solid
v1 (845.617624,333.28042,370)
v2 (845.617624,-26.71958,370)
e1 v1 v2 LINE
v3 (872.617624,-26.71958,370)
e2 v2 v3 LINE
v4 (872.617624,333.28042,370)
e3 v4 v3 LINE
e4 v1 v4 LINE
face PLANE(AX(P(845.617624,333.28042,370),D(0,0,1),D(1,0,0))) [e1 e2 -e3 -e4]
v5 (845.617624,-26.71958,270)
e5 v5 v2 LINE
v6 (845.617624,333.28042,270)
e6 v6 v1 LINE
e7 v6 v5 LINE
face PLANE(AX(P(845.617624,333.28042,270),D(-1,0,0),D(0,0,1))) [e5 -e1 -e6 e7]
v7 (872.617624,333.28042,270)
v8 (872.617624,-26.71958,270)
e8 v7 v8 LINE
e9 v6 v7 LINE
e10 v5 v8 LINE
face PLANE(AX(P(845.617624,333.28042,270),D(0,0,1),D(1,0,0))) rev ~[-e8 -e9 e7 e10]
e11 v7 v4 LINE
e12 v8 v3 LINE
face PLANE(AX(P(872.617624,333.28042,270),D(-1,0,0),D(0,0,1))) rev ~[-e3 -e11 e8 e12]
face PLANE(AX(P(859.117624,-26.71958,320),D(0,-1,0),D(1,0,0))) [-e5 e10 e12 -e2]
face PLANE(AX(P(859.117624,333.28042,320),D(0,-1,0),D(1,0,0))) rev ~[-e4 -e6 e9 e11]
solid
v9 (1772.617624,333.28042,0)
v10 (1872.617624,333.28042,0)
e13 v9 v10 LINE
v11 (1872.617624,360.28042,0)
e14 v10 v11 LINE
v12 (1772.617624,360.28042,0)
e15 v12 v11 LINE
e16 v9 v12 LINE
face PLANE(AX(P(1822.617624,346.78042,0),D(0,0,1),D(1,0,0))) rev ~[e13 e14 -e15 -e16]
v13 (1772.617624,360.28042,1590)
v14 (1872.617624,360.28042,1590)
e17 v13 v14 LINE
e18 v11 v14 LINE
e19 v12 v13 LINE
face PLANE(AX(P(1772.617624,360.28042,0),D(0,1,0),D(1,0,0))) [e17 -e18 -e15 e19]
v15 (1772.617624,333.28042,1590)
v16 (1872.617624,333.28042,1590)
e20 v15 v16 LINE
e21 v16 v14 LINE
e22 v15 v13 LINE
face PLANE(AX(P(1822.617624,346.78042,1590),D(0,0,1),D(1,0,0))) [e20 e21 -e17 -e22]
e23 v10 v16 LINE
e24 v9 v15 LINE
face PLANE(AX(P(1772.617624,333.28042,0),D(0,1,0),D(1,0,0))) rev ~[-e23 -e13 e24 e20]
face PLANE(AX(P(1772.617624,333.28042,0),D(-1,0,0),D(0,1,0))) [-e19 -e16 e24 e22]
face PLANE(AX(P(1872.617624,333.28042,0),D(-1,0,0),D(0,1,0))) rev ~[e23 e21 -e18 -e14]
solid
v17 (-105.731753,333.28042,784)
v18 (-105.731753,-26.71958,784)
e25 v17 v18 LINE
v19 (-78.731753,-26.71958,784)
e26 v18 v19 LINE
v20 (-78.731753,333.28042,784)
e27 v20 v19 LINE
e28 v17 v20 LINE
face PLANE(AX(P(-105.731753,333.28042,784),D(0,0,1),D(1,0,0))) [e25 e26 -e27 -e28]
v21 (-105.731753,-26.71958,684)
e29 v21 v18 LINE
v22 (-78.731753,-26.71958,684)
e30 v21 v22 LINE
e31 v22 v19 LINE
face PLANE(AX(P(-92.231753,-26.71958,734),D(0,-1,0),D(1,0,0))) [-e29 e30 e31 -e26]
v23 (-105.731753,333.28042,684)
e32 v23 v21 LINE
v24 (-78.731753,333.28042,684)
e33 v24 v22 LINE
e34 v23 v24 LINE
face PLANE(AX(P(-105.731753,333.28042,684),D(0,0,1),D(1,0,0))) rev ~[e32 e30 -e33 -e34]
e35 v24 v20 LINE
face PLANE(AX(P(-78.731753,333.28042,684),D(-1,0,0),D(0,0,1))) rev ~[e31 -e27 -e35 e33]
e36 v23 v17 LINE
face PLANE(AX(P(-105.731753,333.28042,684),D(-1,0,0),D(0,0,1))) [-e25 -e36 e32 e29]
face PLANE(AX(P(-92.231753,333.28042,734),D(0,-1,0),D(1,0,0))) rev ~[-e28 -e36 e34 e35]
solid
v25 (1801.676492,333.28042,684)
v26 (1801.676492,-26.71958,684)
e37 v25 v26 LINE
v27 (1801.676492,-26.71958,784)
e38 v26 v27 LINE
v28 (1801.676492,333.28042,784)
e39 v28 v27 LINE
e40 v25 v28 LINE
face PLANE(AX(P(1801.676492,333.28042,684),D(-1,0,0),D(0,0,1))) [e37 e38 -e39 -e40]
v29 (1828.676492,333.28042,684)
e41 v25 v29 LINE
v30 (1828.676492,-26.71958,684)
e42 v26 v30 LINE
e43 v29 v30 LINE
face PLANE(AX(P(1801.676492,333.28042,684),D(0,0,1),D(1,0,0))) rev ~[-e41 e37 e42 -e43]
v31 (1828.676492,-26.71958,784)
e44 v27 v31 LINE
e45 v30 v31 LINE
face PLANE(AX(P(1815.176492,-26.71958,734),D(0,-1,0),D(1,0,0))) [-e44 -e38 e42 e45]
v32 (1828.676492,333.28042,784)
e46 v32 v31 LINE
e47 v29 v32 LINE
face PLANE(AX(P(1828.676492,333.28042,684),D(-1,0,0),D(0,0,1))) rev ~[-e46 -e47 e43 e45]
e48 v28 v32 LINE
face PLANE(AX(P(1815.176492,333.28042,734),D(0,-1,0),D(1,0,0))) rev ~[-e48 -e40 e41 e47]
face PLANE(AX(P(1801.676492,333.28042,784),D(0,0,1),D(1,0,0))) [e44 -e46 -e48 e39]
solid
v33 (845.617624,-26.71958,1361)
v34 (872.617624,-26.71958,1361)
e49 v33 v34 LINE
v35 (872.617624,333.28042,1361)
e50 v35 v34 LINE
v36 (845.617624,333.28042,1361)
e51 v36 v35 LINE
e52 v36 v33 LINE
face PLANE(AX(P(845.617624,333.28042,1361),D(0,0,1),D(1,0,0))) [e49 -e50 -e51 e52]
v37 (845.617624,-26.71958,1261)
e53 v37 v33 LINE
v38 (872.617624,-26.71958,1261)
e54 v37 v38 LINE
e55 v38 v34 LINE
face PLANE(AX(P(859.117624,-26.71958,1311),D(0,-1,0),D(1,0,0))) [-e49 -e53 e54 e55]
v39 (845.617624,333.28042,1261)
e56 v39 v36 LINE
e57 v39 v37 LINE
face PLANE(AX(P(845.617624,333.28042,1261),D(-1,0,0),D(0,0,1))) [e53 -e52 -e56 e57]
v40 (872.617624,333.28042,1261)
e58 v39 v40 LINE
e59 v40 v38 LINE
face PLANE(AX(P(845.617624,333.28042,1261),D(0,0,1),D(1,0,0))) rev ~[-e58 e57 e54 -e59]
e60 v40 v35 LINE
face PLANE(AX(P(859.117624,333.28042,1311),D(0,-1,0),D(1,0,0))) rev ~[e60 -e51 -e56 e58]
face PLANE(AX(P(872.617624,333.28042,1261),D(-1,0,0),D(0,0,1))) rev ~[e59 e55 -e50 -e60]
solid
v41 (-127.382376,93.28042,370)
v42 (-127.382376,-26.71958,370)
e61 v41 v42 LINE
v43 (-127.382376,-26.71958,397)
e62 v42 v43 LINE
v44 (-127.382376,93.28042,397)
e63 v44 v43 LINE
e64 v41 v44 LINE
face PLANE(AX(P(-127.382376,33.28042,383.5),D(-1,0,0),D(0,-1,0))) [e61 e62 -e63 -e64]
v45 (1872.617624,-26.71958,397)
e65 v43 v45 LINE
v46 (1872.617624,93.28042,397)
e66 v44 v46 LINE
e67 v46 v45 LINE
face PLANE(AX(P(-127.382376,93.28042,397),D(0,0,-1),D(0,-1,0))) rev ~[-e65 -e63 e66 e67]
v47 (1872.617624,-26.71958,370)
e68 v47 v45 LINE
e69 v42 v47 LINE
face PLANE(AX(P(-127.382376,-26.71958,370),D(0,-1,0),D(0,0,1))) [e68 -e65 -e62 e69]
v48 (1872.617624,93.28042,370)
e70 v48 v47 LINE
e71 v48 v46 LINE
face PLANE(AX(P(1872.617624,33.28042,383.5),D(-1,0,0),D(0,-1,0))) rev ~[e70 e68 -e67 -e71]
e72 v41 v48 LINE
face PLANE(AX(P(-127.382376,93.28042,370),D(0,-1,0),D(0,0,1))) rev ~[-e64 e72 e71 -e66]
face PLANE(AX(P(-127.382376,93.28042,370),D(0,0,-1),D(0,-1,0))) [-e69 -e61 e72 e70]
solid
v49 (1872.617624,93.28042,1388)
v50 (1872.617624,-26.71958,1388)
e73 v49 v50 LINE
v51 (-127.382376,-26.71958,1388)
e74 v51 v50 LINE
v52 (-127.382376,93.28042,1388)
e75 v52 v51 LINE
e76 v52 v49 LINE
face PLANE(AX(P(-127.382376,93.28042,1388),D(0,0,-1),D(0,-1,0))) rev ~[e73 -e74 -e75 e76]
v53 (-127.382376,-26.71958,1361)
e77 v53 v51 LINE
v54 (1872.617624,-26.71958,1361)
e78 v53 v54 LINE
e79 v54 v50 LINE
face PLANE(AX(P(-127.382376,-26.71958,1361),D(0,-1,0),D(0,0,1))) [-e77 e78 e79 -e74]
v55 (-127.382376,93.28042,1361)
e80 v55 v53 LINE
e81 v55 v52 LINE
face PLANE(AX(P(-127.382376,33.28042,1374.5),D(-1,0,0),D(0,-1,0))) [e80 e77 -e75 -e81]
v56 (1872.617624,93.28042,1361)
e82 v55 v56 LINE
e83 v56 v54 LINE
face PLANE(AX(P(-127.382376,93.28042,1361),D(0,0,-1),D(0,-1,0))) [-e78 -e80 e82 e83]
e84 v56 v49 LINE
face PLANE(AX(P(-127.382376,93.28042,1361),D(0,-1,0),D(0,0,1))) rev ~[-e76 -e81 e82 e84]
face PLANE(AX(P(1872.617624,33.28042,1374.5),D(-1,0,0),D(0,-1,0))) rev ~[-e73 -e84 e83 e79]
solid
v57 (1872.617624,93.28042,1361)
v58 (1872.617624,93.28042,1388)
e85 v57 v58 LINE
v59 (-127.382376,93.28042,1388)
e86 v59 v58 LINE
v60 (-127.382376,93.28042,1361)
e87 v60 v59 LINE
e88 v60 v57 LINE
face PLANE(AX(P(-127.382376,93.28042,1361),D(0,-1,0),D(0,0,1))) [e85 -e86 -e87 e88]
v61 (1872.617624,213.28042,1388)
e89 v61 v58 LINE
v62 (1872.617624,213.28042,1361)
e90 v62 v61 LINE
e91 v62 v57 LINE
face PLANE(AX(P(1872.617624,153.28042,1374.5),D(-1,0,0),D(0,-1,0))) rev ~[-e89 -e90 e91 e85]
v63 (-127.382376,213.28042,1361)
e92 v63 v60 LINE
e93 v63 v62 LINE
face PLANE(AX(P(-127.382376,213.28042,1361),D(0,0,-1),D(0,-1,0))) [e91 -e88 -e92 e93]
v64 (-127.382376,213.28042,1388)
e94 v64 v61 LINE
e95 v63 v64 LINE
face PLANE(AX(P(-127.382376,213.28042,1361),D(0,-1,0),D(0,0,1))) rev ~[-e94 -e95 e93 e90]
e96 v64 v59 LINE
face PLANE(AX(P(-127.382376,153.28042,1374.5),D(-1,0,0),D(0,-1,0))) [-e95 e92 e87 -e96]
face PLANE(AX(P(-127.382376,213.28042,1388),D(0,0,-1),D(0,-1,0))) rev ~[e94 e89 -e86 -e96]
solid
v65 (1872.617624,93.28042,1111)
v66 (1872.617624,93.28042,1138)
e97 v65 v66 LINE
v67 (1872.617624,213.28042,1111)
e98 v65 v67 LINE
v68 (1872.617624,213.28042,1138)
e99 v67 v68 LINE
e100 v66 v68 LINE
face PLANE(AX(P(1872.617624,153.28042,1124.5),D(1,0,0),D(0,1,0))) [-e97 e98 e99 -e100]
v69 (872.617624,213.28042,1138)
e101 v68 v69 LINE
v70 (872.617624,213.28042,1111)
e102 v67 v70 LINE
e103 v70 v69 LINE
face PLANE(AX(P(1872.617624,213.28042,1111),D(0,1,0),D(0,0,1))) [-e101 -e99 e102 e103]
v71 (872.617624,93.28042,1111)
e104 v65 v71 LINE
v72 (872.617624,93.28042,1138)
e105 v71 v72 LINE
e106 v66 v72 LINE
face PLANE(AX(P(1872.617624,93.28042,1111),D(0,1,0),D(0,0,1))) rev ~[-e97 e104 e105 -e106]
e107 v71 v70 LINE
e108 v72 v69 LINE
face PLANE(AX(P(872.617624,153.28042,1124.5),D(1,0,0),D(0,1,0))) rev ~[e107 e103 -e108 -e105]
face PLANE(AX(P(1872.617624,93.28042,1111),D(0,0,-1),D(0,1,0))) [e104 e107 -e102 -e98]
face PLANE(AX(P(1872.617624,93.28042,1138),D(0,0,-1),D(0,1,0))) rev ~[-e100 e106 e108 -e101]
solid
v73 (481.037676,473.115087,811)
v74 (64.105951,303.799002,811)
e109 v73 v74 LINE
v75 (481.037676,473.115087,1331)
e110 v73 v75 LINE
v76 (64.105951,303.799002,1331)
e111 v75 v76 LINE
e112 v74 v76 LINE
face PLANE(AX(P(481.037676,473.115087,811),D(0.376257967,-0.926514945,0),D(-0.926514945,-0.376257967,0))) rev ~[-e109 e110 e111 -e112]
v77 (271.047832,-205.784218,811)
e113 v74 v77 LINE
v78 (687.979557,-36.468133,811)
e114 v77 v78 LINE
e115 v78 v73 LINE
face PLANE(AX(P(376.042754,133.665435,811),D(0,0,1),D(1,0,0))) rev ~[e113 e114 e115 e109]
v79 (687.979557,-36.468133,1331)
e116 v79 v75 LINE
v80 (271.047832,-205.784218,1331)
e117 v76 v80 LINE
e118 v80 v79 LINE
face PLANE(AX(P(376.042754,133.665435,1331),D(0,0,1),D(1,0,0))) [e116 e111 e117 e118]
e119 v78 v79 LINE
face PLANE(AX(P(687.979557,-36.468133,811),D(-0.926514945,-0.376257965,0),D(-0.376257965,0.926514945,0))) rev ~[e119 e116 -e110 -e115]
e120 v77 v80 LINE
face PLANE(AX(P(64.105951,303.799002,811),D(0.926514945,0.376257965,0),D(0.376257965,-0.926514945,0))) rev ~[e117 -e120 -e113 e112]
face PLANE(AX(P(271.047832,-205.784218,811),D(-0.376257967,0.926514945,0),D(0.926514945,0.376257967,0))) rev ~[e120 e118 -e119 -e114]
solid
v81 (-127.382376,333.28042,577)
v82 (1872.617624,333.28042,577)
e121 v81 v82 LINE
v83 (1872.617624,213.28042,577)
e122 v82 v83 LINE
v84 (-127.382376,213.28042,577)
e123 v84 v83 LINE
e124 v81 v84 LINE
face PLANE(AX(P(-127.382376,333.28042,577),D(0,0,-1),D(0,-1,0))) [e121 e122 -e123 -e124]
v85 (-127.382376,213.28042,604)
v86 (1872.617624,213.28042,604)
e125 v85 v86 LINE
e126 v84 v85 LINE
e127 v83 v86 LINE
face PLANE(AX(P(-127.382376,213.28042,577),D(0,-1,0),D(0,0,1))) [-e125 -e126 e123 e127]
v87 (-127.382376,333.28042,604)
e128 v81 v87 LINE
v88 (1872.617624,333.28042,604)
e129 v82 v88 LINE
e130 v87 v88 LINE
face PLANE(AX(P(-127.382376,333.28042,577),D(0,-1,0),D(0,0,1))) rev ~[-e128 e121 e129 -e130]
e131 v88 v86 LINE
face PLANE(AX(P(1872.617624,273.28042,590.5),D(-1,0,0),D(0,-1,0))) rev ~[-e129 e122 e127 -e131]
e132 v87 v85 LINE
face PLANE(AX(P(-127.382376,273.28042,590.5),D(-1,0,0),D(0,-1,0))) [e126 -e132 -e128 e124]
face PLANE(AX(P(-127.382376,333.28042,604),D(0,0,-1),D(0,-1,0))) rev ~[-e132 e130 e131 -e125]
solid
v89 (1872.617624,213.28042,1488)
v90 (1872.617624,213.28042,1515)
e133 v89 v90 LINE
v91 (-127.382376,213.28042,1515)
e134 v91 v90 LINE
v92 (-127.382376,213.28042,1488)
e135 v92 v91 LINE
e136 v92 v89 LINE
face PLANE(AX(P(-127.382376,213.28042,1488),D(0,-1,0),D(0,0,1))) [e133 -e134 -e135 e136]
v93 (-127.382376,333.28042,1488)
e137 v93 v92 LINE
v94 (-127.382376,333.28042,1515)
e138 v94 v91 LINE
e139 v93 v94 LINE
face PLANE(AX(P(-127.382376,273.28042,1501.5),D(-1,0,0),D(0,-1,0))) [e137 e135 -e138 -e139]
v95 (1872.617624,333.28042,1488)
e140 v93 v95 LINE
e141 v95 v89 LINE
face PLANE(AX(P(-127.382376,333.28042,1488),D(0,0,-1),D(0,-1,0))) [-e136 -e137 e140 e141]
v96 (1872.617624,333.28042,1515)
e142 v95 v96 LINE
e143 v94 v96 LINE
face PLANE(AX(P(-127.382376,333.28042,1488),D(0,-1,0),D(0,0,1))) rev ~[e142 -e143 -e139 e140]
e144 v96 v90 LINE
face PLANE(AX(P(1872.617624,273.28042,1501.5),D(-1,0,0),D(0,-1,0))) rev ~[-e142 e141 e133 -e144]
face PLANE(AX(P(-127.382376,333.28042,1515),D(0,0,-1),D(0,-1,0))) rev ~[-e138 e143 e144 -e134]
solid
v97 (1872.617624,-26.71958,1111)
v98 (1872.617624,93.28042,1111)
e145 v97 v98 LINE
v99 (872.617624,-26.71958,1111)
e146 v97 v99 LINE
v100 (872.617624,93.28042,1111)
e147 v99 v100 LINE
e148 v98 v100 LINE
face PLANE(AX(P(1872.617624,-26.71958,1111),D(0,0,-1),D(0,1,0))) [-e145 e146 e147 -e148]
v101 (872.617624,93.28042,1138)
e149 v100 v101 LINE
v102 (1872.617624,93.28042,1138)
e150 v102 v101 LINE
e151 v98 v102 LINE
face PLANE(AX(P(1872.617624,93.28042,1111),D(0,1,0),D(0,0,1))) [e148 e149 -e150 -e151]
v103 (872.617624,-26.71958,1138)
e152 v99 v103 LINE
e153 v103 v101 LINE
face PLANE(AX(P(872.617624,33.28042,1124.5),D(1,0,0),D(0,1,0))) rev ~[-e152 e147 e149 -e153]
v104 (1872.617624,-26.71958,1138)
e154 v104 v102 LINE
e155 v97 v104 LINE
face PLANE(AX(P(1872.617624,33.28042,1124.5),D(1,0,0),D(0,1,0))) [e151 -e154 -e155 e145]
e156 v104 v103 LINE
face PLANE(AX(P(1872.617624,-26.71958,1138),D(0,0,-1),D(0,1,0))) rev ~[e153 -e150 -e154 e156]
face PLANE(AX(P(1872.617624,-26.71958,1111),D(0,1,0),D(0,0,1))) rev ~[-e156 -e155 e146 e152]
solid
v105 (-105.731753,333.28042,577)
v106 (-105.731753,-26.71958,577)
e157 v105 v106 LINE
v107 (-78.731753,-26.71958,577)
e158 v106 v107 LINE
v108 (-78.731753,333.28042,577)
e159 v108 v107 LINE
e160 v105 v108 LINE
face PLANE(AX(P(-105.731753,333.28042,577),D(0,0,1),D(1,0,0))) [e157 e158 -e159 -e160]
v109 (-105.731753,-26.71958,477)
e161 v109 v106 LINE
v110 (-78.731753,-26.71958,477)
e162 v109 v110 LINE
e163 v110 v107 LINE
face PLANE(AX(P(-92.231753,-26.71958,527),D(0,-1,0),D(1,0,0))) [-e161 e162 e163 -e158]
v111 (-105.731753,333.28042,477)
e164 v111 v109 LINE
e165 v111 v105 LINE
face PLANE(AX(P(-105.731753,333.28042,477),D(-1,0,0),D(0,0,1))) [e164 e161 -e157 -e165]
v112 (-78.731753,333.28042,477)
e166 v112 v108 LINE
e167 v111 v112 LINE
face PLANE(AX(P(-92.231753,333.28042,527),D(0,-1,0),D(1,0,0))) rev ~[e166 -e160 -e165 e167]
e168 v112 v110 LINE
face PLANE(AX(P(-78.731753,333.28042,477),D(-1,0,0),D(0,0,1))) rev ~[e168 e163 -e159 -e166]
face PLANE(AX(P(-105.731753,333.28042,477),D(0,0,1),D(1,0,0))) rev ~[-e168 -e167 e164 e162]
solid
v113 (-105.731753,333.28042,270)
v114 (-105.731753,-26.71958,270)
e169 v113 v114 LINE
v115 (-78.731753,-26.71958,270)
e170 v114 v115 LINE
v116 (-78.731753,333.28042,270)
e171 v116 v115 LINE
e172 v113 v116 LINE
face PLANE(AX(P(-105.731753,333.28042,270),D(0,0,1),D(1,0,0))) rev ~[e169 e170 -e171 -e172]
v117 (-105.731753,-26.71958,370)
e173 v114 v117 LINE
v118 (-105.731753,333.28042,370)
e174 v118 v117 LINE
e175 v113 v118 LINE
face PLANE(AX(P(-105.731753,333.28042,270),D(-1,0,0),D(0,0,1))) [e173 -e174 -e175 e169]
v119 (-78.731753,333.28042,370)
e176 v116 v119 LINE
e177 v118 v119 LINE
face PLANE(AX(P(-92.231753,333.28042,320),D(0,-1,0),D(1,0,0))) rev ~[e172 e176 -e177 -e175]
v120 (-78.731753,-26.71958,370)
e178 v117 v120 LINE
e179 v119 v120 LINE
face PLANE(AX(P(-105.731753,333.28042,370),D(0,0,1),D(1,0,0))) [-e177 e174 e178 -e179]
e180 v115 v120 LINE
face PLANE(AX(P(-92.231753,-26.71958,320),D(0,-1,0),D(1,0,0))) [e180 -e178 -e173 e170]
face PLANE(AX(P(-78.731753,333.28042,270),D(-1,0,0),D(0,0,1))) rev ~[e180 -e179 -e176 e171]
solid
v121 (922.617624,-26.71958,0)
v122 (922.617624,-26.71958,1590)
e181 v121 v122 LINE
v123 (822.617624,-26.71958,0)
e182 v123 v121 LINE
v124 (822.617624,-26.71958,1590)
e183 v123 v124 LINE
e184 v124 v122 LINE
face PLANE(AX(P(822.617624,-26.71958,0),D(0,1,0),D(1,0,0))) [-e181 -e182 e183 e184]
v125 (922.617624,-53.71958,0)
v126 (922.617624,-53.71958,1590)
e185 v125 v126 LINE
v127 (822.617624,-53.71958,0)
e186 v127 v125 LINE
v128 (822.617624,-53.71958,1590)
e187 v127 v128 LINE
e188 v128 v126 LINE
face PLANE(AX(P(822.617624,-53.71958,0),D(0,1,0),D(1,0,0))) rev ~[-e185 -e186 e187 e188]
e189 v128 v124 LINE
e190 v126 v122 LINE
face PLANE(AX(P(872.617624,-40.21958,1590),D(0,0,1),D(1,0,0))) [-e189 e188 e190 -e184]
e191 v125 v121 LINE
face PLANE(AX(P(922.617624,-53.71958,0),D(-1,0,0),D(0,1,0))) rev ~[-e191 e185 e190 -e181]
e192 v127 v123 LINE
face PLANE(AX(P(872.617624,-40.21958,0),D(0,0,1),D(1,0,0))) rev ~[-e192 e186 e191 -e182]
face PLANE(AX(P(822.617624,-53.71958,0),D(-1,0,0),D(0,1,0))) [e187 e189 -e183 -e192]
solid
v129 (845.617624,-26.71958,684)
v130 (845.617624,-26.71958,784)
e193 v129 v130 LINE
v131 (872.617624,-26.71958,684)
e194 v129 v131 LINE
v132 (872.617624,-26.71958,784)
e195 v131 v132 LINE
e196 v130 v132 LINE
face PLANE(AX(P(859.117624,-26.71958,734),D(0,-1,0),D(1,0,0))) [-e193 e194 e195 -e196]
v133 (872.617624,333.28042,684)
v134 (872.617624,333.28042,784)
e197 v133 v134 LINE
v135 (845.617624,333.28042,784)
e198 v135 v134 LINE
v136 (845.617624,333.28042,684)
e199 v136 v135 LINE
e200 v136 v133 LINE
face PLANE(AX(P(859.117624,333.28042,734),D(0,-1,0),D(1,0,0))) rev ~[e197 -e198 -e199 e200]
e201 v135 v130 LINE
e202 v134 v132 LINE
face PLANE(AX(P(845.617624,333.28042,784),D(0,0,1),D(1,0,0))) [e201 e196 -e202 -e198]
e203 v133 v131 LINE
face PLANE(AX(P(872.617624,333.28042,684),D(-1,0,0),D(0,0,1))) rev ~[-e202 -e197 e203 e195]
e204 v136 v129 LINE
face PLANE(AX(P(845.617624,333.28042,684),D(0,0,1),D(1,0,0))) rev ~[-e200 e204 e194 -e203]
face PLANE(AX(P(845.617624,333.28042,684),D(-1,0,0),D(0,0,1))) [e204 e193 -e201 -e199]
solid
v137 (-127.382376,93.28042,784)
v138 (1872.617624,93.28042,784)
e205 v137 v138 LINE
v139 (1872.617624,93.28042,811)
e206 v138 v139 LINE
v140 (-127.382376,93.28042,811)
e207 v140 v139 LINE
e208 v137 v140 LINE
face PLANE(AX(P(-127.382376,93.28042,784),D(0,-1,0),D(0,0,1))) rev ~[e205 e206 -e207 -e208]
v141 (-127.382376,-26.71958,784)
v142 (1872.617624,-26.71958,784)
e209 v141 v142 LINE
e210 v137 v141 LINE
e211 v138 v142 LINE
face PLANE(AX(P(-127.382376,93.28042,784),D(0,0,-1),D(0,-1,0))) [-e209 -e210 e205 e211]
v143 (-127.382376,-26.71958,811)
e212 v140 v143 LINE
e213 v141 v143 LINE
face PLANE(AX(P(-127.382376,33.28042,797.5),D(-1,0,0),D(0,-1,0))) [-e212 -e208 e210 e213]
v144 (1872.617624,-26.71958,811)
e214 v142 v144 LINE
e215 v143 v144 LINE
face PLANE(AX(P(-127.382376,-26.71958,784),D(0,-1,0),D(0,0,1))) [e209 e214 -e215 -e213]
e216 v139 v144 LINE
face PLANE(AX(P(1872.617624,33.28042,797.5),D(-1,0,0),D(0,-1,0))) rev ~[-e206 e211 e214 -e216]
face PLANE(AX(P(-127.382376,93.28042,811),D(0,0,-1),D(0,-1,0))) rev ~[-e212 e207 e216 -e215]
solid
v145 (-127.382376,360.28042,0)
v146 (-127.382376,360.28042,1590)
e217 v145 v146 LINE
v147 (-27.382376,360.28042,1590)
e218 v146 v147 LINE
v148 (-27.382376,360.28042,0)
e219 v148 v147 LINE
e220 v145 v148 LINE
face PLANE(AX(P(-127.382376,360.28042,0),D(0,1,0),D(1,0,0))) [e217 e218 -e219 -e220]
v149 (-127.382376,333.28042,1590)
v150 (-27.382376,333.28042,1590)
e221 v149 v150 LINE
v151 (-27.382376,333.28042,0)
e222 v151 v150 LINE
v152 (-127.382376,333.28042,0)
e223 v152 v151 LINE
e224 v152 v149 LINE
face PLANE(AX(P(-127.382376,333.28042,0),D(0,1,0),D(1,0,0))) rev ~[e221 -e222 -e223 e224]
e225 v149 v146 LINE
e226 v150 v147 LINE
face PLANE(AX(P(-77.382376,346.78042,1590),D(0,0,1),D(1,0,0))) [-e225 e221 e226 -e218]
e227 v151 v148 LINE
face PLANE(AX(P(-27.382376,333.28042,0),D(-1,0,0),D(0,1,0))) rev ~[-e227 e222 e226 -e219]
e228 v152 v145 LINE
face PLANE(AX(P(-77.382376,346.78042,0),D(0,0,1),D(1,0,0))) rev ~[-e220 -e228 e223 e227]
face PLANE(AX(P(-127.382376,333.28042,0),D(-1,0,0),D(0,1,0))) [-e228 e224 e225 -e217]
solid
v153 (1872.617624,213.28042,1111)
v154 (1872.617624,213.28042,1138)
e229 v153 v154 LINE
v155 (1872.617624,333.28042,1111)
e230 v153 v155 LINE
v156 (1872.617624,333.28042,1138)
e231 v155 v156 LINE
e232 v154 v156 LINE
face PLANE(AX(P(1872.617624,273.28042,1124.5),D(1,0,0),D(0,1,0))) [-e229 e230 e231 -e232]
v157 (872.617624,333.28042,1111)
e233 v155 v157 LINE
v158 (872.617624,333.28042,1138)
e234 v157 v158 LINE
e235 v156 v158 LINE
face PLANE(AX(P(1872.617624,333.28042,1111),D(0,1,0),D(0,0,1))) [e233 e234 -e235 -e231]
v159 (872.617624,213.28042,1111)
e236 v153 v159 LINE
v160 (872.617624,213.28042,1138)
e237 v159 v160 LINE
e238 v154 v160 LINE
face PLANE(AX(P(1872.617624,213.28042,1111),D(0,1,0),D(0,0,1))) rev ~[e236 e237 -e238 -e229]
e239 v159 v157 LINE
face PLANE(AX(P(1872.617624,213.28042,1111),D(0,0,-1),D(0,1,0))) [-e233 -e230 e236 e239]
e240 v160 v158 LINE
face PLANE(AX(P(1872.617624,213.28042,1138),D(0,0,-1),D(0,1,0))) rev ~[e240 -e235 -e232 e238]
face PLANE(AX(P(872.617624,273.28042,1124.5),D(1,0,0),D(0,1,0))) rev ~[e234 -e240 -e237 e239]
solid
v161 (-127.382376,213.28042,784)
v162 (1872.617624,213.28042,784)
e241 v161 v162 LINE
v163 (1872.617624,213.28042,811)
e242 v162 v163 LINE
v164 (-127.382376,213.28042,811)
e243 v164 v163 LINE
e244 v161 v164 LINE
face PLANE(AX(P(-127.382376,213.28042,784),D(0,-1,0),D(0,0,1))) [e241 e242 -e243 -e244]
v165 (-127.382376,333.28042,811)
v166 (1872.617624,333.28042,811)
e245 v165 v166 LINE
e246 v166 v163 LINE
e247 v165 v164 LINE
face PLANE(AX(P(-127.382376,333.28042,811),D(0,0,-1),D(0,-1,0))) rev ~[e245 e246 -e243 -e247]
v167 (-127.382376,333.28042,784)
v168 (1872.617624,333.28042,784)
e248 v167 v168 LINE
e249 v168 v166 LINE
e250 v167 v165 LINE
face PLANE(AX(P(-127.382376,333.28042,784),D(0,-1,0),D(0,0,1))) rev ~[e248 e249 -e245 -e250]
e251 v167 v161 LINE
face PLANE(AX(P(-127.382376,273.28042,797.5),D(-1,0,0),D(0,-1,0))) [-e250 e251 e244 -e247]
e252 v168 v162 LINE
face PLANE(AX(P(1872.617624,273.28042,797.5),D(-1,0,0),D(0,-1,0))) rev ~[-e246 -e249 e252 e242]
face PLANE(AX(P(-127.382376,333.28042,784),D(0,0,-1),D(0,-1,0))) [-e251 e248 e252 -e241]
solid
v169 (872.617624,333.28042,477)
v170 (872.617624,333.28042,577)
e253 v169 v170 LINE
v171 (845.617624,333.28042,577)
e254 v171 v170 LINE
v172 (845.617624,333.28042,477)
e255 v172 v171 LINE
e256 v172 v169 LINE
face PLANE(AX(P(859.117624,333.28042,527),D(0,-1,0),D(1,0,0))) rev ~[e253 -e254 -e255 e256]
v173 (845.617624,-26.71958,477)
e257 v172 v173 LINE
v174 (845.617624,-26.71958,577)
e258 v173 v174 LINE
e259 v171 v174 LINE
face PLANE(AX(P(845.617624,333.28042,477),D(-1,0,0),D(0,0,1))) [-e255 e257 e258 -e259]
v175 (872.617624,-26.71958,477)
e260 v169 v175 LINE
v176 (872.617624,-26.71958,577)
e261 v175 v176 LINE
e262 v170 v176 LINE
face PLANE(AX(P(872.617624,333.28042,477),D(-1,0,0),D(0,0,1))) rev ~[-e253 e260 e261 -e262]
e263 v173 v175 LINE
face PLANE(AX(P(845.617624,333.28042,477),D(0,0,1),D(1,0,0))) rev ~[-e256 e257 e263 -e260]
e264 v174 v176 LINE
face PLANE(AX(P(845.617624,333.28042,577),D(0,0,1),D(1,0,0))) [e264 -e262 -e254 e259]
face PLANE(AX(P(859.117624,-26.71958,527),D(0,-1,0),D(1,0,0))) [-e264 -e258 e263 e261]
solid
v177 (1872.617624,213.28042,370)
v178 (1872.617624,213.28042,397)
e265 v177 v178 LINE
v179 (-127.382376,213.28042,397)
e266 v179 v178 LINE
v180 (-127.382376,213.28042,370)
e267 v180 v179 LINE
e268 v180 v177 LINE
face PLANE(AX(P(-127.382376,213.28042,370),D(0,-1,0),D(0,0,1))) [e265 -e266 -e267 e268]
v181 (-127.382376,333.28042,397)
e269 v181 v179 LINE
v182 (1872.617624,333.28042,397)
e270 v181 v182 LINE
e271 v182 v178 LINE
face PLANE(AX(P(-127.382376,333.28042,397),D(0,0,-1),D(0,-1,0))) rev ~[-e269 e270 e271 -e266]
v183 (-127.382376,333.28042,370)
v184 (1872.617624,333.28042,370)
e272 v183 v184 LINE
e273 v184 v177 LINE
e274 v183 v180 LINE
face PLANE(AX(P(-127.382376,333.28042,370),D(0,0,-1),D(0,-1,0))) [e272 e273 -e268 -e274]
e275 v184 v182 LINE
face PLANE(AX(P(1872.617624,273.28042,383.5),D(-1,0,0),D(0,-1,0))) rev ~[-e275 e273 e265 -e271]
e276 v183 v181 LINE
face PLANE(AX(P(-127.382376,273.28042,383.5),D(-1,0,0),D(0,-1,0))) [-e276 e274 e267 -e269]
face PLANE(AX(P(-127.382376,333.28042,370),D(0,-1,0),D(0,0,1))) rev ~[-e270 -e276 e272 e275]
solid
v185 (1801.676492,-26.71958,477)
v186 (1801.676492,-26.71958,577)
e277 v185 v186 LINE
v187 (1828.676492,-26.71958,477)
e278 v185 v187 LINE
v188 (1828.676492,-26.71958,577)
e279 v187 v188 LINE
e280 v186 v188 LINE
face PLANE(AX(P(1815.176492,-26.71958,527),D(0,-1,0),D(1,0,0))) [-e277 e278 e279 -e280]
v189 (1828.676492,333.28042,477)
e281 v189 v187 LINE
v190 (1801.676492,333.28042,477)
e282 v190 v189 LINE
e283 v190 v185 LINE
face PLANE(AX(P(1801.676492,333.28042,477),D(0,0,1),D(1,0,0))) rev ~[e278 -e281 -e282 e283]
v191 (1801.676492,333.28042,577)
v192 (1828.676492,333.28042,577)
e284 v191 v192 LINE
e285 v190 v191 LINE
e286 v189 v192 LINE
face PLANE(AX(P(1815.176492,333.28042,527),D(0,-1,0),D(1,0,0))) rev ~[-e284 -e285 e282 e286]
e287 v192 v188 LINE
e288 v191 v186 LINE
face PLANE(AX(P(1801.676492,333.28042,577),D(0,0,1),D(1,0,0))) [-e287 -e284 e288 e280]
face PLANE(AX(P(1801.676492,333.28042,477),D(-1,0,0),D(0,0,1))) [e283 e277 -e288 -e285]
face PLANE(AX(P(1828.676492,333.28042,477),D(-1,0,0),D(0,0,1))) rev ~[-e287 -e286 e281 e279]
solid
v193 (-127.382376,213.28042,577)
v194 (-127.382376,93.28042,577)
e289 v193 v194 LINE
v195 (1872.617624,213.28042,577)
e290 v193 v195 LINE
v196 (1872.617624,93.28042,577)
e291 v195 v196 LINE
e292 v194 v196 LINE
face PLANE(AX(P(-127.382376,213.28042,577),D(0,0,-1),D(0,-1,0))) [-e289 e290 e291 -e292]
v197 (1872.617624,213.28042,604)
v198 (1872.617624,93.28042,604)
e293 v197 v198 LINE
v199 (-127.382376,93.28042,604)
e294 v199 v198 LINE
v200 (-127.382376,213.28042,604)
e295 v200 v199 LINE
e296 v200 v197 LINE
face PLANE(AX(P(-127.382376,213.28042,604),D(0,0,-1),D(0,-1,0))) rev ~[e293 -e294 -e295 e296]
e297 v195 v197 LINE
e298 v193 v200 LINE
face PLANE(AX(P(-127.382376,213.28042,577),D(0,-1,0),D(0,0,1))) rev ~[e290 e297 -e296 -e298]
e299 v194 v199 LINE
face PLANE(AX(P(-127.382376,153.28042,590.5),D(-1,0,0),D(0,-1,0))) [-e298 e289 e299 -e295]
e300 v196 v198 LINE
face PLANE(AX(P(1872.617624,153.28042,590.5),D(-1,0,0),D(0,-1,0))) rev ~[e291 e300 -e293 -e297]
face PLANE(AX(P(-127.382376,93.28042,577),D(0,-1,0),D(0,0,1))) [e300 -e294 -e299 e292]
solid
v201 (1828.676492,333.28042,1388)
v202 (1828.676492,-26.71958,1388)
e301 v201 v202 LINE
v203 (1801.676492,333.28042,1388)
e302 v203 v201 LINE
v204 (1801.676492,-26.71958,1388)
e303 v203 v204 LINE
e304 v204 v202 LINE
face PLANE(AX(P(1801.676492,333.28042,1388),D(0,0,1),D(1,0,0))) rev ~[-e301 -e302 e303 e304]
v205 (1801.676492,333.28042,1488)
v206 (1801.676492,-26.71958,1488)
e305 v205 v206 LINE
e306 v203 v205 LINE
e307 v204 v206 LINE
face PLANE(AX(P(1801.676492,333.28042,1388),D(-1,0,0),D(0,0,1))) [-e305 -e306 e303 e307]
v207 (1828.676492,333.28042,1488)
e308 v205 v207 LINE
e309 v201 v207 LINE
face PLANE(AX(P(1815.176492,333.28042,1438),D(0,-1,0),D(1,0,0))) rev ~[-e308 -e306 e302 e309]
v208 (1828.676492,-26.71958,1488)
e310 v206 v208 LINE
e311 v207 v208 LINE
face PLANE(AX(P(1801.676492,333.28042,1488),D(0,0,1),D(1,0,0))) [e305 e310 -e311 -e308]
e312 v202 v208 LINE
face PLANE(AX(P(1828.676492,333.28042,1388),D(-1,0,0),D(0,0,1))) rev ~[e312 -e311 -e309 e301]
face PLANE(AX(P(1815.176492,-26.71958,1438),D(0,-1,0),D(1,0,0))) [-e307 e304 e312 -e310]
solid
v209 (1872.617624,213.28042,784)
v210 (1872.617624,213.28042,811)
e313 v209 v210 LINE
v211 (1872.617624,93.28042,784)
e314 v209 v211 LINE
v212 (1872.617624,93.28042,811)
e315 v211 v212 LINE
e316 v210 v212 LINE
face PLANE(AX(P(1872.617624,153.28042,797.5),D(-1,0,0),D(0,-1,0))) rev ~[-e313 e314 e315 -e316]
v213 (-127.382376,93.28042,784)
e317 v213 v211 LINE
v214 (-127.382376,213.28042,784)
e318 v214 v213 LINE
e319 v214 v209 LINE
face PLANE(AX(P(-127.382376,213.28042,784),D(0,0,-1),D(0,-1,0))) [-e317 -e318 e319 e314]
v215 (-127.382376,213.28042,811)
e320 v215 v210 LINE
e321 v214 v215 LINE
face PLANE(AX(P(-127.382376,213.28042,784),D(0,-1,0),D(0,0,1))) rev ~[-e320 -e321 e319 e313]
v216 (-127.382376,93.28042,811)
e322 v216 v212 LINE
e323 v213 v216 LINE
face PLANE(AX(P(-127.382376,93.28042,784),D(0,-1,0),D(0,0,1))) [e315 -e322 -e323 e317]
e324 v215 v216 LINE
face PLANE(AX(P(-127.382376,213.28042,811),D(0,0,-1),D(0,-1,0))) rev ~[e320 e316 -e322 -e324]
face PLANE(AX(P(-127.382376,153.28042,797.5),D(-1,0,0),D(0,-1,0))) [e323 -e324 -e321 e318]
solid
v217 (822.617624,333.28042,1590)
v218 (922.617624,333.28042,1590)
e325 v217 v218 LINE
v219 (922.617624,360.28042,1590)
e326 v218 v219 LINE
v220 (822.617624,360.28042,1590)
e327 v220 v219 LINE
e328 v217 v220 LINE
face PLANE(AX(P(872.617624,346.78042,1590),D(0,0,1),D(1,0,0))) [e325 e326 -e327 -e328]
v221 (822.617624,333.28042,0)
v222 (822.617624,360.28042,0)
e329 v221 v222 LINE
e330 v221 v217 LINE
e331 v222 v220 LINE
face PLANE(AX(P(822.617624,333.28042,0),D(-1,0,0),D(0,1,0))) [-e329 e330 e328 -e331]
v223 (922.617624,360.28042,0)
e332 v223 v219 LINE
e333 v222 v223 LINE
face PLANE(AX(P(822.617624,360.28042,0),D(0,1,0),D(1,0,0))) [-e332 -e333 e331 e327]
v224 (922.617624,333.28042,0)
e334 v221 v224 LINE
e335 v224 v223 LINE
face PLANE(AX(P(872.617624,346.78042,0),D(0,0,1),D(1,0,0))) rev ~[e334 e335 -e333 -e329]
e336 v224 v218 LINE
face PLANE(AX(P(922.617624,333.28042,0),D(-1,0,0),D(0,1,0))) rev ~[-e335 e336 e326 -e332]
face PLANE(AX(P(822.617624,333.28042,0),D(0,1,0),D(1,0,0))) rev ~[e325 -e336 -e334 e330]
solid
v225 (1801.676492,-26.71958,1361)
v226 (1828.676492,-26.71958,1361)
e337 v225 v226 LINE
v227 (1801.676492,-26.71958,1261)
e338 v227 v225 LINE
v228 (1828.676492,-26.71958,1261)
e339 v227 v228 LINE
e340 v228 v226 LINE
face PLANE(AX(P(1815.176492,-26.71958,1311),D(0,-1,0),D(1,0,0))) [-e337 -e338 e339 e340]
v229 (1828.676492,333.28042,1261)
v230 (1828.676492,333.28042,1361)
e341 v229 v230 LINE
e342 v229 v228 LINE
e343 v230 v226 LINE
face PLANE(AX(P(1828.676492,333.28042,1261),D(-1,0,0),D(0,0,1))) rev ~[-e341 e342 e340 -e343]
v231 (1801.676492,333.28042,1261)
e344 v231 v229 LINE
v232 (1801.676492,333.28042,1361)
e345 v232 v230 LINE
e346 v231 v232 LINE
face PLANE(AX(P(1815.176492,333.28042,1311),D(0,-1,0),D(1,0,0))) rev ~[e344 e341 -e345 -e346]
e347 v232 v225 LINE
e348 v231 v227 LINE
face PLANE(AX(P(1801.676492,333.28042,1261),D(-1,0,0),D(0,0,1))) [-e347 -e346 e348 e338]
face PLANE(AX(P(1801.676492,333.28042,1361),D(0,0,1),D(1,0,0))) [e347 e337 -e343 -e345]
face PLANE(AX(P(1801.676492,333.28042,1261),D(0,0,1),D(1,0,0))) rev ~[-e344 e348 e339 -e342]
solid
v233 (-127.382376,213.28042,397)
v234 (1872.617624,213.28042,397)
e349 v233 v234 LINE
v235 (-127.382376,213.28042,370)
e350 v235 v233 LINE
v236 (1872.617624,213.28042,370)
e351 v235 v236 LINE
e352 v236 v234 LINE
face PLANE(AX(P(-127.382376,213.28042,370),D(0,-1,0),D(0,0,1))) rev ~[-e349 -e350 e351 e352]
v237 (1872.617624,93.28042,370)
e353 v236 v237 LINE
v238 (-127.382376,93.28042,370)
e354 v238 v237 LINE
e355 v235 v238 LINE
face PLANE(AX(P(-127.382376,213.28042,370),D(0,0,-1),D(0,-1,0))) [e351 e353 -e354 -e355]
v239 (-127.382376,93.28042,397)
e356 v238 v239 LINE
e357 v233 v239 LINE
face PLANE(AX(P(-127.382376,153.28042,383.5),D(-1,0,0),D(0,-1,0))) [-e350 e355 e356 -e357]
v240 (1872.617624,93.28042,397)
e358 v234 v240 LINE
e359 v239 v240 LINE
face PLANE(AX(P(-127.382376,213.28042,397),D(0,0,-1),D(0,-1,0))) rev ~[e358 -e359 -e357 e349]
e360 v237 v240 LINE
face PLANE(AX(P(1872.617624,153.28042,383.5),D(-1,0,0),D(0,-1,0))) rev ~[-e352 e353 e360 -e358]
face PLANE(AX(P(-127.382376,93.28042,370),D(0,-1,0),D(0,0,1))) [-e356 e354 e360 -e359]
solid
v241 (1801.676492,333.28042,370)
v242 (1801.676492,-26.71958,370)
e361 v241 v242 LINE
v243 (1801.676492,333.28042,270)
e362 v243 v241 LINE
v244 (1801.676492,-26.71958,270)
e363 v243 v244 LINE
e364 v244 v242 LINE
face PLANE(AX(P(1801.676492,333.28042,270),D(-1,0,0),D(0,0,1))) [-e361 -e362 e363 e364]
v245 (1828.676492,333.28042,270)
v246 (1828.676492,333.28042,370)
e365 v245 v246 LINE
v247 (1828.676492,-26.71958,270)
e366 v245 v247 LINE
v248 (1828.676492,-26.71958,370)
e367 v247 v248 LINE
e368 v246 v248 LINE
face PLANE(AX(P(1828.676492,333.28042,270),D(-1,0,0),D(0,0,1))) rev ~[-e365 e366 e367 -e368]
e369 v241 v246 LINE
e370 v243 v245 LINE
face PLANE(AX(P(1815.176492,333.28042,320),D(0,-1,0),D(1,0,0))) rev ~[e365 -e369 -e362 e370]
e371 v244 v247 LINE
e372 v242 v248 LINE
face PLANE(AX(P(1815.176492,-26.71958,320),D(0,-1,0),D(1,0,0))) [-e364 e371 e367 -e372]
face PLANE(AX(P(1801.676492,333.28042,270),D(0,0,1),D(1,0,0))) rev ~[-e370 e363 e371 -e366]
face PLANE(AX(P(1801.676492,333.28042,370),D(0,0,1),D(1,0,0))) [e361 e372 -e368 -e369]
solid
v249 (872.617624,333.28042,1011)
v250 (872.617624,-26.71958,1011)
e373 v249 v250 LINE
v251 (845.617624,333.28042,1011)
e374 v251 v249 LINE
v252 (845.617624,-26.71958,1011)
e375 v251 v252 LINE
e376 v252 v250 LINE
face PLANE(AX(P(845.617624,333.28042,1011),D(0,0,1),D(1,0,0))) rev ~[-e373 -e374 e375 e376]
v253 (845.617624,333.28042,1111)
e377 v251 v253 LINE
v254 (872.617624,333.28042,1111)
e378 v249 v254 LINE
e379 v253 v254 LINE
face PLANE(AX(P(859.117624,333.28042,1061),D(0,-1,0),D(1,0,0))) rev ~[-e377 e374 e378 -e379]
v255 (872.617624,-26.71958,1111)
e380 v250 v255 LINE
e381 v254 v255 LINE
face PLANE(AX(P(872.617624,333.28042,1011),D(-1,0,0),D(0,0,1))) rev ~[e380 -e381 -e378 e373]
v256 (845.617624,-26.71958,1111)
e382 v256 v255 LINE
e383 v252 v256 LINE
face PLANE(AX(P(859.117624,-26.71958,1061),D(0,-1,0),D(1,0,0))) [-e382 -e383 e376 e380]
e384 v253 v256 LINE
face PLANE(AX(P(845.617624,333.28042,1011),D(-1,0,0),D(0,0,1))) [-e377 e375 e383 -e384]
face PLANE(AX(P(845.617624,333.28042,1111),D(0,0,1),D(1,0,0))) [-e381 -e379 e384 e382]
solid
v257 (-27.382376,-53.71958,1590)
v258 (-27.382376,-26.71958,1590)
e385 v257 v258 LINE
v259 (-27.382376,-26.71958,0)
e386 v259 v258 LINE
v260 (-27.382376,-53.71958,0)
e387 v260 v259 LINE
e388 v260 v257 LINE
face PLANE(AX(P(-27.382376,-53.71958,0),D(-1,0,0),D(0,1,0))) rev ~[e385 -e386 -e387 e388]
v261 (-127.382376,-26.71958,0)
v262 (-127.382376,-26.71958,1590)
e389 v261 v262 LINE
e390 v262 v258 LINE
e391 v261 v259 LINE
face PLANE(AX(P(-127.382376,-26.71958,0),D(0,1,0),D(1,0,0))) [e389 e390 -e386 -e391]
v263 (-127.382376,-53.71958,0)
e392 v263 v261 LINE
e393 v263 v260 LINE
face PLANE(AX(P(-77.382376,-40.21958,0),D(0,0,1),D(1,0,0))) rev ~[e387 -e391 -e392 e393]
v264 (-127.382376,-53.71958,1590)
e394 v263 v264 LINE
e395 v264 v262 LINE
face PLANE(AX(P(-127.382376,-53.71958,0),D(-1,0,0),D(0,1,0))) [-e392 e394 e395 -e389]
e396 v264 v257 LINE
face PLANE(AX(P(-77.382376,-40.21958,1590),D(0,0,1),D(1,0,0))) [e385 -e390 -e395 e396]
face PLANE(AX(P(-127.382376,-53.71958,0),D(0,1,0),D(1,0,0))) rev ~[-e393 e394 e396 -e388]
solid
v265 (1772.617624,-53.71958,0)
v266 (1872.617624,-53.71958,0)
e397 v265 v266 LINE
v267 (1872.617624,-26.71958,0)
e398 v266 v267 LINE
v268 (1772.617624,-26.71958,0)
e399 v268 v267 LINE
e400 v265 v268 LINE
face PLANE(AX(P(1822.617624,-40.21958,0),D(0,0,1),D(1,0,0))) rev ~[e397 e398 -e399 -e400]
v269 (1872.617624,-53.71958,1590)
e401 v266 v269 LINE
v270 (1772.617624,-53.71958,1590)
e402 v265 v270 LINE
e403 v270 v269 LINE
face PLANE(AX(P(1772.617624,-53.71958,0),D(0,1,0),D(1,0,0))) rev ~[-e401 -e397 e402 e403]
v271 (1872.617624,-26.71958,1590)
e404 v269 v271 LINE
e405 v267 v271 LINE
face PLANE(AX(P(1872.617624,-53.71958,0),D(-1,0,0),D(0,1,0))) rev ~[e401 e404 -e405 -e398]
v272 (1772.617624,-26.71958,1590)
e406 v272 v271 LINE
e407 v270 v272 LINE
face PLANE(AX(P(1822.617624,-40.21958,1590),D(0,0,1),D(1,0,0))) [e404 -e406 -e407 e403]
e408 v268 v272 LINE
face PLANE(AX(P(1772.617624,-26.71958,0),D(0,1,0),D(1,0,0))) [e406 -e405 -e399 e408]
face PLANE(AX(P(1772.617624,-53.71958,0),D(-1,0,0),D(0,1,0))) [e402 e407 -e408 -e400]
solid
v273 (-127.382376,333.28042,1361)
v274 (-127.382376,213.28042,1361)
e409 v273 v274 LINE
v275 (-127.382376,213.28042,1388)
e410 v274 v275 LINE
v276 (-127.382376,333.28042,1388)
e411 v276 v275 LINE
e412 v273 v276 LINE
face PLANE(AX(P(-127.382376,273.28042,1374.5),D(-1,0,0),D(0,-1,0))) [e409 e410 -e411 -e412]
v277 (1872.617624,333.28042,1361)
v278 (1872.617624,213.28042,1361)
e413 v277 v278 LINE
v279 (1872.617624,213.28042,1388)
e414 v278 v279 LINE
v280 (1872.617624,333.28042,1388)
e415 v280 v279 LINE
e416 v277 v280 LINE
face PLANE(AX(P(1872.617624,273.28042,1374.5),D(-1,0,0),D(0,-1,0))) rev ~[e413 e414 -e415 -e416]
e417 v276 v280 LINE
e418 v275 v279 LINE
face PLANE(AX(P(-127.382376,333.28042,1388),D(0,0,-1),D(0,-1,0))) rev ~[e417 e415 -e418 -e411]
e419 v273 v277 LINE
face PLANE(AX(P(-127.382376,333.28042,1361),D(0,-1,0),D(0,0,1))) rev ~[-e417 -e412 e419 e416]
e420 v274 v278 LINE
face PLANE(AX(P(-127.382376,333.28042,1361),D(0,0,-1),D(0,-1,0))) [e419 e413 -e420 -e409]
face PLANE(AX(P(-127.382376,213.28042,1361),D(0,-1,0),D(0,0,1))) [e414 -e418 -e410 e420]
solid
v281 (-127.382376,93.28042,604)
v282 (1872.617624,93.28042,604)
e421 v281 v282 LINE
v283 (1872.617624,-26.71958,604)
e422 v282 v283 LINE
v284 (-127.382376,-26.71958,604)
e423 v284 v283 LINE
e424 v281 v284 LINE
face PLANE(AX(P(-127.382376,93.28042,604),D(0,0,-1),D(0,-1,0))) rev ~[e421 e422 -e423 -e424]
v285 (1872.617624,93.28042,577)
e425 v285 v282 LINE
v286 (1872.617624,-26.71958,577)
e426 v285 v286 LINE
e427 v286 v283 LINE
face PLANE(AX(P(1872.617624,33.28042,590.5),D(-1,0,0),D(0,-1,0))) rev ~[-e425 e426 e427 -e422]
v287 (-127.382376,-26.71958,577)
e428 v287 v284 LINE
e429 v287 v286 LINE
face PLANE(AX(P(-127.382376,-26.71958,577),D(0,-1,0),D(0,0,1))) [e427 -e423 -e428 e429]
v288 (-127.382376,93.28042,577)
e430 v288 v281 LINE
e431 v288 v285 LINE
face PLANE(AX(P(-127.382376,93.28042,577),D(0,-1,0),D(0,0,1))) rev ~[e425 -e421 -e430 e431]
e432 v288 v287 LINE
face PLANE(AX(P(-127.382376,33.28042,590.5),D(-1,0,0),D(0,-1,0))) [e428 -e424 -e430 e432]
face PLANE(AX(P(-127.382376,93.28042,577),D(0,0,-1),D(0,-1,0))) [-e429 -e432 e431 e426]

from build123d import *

# Parameters (mm, degrees)
F0_W      = 100
F0_H      = 27
F1_DEPTH  = 1590
F2_DEPTH  = 1590
F3_W      = 120
F3_H      = 27
F4_DEPTH  = 2000
F5_DEPTH  = 2000
F6_DEPTH  = 2000
F8_DEPTH  = 520
F9_W      = 120
F9_H      = 27
F10_DEPTH = 1000
F11_DEPTH = 1000
F12_DEPTH = 2000
F13_W     = 27
F13_H     = 100
F14_DEPTH = 360


with BuildPart() as f1:
    # F0 (on Top) → F1 (new body)
    with BuildSketch(Plane.XY):
        with Locations((-77.382376, 346.78042)):
            Rectangle(F0_W, F0_H)
    extrude(amount=F1_DEPTH)

    # F0 (on Top) → F2 (join)
    with BuildSketch(Plane.XY):
        with Locations((-77.382376, 346.78042)):
            Rectangle(F0_W, F0_H)
        with Locations((-77.382376, -40.21958)):
            Rectangle(F0_W, F0_H)
        with Locations((872.617624, 346.78042)):
            Rectangle(F0_W, F0_H)
        with Locations((872.617624, -40.21958)):
            Rectangle(F0_W, F0_H)
        with Locations((1822.617624, 346.78042)):
            Rectangle(F0_W, F0_H)
        with Locations((1822.617624, -40.21958)):
            Rectangle(F0_W, F0_H)
    extrude(amount=F2_DEPTH)


with BuildPart() as f4:
    # F3 (on face) → F4 (new body)
    with BuildSketch(Plane(origin=(-127.382376, 0, 0), x_dir=(0, -1, 0), z_dir=(-1, 0, 0))):
        with Locations((-273.28042, 383.5)):
            Rectangle(F3_W, F3_H)
        with Locations((-33.28042, 383.5)):
            Rectangle(F3_W, F3_H)
    extrude(amount=-F4_DEPTH)


with BuildPart() as f5:
    # F3 (on face) → F5 (new body)
    with BuildSketch(Plane(origin=(-127.382376, 0, 0), x_dir=(0, -1, 0), z_dir=(-1, 0, 0))):
        with Locations((-273.28042, 1374.5)):
            Rectangle(F3_W, F3_H)
        with Locations((-33.28042, 1374.5)):
            Rectangle(F3_W, F3_H)
        with Locations((-33.28042, 797.5)):
            Rectangle(F3_W, F3_H)
        with Locations((-273.28042, 797.5)):
            Rectangle(F3_W, F3_H)
        with Locations((-273.28042, 590.5)):
            Rectangle(F3_W, F3_H)
        with Locations((-33.28042, 590.5)):
            Rectangle(F3_W, F3_H)
    extrude(amount=-F5_DEPTH)


with BuildPart() as f6:
    # F3 (on face) → F6 (new body)
    with BuildSketch(Plane(origin=(-127.382376, 0, 0), x_dir=(0, -1, 0), z_dir=(-1, 0, 0))):
        with Locations((-153.28042, 1374.5)):
            Rectangle(F3_W, F3_H)
        with Locations((-153.28042, 797.5)):
            Rectangle(F3_W, F3_H)
        with Locations((-153.28042, 590.5)):
            Rectangle(F3_W, F3_H)
        with Locations((-153.28042, 383.5)):
            Rectangle(F3_W, F3_H)
    extrude(amount=-F6_DEPTH)


with BuildPart() as f8:
    # F7 (on face) → F8 (new body)
    with BuildSketch(Plane.XY.offset(811)):
        Polygon((481.037676, 473.115087), (64.105951, 303.799002), (271.047832, -205.784218), (687.979557, -36.468133), align=None)
    extrude(amount=F8_DEPTH)


with BuildPart() as f10:
    # F9 (on face) → F10 (new body)
    with BuildSketch(Plane.YZ.offset(1872.617624)):
        with Locations((33.28042, 1124.5)):
            Rectangle(F9_W, F9_H)
        with Locations((273.28042, 1124.5)):
            Rectangle(F9_W, F9_H)
    extrude(amount=-F10_DEPTH)


with BuildPart() as f11:
    # F9 (on face) → F11 (new body)
    with BuildSketch(Plane.YZ.offset(1872.617624)):
        with Locations((153.28042, 1124.5)):
            Rectangle(F9_W, F9_H)
    extrude(amount=-F11_DEPTH)


with BuildPart() as f12:
    # F3 (on face) → F12 (new body)
    with BuildSketch(Plane(origin=(-127.382376, 0, 0), x_dir=(0, -1, 0), z_dir=(-1, 0, 0))):
        with Locations((-273.28042, 1501.5)):
            Rectangle(F3_W, F3_H)
    extrude(amount=-F12_DEPTH)


with BuildPart() as f14:
    # F13 (on face) → F14 (new body, through all)
    with BuildSketch(Plane.XZ.offset(-333.28042)):
        with Locations((1815.176492, 734)):
            Rectangle(F13_W, F13_H)
        with Locations((1815.176492, 527)):
            Rectangle(F13_W, F13_H)
        with Locations((1815.176492, 320)):
            Rectangle(F13_W, F13_H)
        with Locations((1815.176492, 1311)):
            Rectangle(F13_W, F13_H)
        with Locations((859.117624, 734)):
            Rectangle(F13_W, F13_H)
        with Locations((859.117624, 527)):
            Rectangle(F13_W, F13_H)
        with Locations((859.117624, 320)):
            Rectangle(F13_W, F13_H)
        with Locations((859.117624, 1061)):
            Rectangle(F13_W, F13_H)
        with Locations((859.117624, 1311)):
            Rectangle(F13_W, F13_H)
        with Locations((-92.231753, 320)):
            Rectangle(F13_W, F13_H)
        with Locations((-92.231753, 527)):
            Rectangle(F13_W, F13_H)
        with Locations((-92.231753, 734)):
            Rectangle(F13_W, F13_H)
        with Locations((1815.176492, 1438)):
            Rectangle(F13_W, F13_H)
    extrude(amount=F14_DEPTH)


solid = Compound([f1.part, f4.part, f5.part, f6.part, f8.part, f10.part, f11.part, f12.part, f14.part])
